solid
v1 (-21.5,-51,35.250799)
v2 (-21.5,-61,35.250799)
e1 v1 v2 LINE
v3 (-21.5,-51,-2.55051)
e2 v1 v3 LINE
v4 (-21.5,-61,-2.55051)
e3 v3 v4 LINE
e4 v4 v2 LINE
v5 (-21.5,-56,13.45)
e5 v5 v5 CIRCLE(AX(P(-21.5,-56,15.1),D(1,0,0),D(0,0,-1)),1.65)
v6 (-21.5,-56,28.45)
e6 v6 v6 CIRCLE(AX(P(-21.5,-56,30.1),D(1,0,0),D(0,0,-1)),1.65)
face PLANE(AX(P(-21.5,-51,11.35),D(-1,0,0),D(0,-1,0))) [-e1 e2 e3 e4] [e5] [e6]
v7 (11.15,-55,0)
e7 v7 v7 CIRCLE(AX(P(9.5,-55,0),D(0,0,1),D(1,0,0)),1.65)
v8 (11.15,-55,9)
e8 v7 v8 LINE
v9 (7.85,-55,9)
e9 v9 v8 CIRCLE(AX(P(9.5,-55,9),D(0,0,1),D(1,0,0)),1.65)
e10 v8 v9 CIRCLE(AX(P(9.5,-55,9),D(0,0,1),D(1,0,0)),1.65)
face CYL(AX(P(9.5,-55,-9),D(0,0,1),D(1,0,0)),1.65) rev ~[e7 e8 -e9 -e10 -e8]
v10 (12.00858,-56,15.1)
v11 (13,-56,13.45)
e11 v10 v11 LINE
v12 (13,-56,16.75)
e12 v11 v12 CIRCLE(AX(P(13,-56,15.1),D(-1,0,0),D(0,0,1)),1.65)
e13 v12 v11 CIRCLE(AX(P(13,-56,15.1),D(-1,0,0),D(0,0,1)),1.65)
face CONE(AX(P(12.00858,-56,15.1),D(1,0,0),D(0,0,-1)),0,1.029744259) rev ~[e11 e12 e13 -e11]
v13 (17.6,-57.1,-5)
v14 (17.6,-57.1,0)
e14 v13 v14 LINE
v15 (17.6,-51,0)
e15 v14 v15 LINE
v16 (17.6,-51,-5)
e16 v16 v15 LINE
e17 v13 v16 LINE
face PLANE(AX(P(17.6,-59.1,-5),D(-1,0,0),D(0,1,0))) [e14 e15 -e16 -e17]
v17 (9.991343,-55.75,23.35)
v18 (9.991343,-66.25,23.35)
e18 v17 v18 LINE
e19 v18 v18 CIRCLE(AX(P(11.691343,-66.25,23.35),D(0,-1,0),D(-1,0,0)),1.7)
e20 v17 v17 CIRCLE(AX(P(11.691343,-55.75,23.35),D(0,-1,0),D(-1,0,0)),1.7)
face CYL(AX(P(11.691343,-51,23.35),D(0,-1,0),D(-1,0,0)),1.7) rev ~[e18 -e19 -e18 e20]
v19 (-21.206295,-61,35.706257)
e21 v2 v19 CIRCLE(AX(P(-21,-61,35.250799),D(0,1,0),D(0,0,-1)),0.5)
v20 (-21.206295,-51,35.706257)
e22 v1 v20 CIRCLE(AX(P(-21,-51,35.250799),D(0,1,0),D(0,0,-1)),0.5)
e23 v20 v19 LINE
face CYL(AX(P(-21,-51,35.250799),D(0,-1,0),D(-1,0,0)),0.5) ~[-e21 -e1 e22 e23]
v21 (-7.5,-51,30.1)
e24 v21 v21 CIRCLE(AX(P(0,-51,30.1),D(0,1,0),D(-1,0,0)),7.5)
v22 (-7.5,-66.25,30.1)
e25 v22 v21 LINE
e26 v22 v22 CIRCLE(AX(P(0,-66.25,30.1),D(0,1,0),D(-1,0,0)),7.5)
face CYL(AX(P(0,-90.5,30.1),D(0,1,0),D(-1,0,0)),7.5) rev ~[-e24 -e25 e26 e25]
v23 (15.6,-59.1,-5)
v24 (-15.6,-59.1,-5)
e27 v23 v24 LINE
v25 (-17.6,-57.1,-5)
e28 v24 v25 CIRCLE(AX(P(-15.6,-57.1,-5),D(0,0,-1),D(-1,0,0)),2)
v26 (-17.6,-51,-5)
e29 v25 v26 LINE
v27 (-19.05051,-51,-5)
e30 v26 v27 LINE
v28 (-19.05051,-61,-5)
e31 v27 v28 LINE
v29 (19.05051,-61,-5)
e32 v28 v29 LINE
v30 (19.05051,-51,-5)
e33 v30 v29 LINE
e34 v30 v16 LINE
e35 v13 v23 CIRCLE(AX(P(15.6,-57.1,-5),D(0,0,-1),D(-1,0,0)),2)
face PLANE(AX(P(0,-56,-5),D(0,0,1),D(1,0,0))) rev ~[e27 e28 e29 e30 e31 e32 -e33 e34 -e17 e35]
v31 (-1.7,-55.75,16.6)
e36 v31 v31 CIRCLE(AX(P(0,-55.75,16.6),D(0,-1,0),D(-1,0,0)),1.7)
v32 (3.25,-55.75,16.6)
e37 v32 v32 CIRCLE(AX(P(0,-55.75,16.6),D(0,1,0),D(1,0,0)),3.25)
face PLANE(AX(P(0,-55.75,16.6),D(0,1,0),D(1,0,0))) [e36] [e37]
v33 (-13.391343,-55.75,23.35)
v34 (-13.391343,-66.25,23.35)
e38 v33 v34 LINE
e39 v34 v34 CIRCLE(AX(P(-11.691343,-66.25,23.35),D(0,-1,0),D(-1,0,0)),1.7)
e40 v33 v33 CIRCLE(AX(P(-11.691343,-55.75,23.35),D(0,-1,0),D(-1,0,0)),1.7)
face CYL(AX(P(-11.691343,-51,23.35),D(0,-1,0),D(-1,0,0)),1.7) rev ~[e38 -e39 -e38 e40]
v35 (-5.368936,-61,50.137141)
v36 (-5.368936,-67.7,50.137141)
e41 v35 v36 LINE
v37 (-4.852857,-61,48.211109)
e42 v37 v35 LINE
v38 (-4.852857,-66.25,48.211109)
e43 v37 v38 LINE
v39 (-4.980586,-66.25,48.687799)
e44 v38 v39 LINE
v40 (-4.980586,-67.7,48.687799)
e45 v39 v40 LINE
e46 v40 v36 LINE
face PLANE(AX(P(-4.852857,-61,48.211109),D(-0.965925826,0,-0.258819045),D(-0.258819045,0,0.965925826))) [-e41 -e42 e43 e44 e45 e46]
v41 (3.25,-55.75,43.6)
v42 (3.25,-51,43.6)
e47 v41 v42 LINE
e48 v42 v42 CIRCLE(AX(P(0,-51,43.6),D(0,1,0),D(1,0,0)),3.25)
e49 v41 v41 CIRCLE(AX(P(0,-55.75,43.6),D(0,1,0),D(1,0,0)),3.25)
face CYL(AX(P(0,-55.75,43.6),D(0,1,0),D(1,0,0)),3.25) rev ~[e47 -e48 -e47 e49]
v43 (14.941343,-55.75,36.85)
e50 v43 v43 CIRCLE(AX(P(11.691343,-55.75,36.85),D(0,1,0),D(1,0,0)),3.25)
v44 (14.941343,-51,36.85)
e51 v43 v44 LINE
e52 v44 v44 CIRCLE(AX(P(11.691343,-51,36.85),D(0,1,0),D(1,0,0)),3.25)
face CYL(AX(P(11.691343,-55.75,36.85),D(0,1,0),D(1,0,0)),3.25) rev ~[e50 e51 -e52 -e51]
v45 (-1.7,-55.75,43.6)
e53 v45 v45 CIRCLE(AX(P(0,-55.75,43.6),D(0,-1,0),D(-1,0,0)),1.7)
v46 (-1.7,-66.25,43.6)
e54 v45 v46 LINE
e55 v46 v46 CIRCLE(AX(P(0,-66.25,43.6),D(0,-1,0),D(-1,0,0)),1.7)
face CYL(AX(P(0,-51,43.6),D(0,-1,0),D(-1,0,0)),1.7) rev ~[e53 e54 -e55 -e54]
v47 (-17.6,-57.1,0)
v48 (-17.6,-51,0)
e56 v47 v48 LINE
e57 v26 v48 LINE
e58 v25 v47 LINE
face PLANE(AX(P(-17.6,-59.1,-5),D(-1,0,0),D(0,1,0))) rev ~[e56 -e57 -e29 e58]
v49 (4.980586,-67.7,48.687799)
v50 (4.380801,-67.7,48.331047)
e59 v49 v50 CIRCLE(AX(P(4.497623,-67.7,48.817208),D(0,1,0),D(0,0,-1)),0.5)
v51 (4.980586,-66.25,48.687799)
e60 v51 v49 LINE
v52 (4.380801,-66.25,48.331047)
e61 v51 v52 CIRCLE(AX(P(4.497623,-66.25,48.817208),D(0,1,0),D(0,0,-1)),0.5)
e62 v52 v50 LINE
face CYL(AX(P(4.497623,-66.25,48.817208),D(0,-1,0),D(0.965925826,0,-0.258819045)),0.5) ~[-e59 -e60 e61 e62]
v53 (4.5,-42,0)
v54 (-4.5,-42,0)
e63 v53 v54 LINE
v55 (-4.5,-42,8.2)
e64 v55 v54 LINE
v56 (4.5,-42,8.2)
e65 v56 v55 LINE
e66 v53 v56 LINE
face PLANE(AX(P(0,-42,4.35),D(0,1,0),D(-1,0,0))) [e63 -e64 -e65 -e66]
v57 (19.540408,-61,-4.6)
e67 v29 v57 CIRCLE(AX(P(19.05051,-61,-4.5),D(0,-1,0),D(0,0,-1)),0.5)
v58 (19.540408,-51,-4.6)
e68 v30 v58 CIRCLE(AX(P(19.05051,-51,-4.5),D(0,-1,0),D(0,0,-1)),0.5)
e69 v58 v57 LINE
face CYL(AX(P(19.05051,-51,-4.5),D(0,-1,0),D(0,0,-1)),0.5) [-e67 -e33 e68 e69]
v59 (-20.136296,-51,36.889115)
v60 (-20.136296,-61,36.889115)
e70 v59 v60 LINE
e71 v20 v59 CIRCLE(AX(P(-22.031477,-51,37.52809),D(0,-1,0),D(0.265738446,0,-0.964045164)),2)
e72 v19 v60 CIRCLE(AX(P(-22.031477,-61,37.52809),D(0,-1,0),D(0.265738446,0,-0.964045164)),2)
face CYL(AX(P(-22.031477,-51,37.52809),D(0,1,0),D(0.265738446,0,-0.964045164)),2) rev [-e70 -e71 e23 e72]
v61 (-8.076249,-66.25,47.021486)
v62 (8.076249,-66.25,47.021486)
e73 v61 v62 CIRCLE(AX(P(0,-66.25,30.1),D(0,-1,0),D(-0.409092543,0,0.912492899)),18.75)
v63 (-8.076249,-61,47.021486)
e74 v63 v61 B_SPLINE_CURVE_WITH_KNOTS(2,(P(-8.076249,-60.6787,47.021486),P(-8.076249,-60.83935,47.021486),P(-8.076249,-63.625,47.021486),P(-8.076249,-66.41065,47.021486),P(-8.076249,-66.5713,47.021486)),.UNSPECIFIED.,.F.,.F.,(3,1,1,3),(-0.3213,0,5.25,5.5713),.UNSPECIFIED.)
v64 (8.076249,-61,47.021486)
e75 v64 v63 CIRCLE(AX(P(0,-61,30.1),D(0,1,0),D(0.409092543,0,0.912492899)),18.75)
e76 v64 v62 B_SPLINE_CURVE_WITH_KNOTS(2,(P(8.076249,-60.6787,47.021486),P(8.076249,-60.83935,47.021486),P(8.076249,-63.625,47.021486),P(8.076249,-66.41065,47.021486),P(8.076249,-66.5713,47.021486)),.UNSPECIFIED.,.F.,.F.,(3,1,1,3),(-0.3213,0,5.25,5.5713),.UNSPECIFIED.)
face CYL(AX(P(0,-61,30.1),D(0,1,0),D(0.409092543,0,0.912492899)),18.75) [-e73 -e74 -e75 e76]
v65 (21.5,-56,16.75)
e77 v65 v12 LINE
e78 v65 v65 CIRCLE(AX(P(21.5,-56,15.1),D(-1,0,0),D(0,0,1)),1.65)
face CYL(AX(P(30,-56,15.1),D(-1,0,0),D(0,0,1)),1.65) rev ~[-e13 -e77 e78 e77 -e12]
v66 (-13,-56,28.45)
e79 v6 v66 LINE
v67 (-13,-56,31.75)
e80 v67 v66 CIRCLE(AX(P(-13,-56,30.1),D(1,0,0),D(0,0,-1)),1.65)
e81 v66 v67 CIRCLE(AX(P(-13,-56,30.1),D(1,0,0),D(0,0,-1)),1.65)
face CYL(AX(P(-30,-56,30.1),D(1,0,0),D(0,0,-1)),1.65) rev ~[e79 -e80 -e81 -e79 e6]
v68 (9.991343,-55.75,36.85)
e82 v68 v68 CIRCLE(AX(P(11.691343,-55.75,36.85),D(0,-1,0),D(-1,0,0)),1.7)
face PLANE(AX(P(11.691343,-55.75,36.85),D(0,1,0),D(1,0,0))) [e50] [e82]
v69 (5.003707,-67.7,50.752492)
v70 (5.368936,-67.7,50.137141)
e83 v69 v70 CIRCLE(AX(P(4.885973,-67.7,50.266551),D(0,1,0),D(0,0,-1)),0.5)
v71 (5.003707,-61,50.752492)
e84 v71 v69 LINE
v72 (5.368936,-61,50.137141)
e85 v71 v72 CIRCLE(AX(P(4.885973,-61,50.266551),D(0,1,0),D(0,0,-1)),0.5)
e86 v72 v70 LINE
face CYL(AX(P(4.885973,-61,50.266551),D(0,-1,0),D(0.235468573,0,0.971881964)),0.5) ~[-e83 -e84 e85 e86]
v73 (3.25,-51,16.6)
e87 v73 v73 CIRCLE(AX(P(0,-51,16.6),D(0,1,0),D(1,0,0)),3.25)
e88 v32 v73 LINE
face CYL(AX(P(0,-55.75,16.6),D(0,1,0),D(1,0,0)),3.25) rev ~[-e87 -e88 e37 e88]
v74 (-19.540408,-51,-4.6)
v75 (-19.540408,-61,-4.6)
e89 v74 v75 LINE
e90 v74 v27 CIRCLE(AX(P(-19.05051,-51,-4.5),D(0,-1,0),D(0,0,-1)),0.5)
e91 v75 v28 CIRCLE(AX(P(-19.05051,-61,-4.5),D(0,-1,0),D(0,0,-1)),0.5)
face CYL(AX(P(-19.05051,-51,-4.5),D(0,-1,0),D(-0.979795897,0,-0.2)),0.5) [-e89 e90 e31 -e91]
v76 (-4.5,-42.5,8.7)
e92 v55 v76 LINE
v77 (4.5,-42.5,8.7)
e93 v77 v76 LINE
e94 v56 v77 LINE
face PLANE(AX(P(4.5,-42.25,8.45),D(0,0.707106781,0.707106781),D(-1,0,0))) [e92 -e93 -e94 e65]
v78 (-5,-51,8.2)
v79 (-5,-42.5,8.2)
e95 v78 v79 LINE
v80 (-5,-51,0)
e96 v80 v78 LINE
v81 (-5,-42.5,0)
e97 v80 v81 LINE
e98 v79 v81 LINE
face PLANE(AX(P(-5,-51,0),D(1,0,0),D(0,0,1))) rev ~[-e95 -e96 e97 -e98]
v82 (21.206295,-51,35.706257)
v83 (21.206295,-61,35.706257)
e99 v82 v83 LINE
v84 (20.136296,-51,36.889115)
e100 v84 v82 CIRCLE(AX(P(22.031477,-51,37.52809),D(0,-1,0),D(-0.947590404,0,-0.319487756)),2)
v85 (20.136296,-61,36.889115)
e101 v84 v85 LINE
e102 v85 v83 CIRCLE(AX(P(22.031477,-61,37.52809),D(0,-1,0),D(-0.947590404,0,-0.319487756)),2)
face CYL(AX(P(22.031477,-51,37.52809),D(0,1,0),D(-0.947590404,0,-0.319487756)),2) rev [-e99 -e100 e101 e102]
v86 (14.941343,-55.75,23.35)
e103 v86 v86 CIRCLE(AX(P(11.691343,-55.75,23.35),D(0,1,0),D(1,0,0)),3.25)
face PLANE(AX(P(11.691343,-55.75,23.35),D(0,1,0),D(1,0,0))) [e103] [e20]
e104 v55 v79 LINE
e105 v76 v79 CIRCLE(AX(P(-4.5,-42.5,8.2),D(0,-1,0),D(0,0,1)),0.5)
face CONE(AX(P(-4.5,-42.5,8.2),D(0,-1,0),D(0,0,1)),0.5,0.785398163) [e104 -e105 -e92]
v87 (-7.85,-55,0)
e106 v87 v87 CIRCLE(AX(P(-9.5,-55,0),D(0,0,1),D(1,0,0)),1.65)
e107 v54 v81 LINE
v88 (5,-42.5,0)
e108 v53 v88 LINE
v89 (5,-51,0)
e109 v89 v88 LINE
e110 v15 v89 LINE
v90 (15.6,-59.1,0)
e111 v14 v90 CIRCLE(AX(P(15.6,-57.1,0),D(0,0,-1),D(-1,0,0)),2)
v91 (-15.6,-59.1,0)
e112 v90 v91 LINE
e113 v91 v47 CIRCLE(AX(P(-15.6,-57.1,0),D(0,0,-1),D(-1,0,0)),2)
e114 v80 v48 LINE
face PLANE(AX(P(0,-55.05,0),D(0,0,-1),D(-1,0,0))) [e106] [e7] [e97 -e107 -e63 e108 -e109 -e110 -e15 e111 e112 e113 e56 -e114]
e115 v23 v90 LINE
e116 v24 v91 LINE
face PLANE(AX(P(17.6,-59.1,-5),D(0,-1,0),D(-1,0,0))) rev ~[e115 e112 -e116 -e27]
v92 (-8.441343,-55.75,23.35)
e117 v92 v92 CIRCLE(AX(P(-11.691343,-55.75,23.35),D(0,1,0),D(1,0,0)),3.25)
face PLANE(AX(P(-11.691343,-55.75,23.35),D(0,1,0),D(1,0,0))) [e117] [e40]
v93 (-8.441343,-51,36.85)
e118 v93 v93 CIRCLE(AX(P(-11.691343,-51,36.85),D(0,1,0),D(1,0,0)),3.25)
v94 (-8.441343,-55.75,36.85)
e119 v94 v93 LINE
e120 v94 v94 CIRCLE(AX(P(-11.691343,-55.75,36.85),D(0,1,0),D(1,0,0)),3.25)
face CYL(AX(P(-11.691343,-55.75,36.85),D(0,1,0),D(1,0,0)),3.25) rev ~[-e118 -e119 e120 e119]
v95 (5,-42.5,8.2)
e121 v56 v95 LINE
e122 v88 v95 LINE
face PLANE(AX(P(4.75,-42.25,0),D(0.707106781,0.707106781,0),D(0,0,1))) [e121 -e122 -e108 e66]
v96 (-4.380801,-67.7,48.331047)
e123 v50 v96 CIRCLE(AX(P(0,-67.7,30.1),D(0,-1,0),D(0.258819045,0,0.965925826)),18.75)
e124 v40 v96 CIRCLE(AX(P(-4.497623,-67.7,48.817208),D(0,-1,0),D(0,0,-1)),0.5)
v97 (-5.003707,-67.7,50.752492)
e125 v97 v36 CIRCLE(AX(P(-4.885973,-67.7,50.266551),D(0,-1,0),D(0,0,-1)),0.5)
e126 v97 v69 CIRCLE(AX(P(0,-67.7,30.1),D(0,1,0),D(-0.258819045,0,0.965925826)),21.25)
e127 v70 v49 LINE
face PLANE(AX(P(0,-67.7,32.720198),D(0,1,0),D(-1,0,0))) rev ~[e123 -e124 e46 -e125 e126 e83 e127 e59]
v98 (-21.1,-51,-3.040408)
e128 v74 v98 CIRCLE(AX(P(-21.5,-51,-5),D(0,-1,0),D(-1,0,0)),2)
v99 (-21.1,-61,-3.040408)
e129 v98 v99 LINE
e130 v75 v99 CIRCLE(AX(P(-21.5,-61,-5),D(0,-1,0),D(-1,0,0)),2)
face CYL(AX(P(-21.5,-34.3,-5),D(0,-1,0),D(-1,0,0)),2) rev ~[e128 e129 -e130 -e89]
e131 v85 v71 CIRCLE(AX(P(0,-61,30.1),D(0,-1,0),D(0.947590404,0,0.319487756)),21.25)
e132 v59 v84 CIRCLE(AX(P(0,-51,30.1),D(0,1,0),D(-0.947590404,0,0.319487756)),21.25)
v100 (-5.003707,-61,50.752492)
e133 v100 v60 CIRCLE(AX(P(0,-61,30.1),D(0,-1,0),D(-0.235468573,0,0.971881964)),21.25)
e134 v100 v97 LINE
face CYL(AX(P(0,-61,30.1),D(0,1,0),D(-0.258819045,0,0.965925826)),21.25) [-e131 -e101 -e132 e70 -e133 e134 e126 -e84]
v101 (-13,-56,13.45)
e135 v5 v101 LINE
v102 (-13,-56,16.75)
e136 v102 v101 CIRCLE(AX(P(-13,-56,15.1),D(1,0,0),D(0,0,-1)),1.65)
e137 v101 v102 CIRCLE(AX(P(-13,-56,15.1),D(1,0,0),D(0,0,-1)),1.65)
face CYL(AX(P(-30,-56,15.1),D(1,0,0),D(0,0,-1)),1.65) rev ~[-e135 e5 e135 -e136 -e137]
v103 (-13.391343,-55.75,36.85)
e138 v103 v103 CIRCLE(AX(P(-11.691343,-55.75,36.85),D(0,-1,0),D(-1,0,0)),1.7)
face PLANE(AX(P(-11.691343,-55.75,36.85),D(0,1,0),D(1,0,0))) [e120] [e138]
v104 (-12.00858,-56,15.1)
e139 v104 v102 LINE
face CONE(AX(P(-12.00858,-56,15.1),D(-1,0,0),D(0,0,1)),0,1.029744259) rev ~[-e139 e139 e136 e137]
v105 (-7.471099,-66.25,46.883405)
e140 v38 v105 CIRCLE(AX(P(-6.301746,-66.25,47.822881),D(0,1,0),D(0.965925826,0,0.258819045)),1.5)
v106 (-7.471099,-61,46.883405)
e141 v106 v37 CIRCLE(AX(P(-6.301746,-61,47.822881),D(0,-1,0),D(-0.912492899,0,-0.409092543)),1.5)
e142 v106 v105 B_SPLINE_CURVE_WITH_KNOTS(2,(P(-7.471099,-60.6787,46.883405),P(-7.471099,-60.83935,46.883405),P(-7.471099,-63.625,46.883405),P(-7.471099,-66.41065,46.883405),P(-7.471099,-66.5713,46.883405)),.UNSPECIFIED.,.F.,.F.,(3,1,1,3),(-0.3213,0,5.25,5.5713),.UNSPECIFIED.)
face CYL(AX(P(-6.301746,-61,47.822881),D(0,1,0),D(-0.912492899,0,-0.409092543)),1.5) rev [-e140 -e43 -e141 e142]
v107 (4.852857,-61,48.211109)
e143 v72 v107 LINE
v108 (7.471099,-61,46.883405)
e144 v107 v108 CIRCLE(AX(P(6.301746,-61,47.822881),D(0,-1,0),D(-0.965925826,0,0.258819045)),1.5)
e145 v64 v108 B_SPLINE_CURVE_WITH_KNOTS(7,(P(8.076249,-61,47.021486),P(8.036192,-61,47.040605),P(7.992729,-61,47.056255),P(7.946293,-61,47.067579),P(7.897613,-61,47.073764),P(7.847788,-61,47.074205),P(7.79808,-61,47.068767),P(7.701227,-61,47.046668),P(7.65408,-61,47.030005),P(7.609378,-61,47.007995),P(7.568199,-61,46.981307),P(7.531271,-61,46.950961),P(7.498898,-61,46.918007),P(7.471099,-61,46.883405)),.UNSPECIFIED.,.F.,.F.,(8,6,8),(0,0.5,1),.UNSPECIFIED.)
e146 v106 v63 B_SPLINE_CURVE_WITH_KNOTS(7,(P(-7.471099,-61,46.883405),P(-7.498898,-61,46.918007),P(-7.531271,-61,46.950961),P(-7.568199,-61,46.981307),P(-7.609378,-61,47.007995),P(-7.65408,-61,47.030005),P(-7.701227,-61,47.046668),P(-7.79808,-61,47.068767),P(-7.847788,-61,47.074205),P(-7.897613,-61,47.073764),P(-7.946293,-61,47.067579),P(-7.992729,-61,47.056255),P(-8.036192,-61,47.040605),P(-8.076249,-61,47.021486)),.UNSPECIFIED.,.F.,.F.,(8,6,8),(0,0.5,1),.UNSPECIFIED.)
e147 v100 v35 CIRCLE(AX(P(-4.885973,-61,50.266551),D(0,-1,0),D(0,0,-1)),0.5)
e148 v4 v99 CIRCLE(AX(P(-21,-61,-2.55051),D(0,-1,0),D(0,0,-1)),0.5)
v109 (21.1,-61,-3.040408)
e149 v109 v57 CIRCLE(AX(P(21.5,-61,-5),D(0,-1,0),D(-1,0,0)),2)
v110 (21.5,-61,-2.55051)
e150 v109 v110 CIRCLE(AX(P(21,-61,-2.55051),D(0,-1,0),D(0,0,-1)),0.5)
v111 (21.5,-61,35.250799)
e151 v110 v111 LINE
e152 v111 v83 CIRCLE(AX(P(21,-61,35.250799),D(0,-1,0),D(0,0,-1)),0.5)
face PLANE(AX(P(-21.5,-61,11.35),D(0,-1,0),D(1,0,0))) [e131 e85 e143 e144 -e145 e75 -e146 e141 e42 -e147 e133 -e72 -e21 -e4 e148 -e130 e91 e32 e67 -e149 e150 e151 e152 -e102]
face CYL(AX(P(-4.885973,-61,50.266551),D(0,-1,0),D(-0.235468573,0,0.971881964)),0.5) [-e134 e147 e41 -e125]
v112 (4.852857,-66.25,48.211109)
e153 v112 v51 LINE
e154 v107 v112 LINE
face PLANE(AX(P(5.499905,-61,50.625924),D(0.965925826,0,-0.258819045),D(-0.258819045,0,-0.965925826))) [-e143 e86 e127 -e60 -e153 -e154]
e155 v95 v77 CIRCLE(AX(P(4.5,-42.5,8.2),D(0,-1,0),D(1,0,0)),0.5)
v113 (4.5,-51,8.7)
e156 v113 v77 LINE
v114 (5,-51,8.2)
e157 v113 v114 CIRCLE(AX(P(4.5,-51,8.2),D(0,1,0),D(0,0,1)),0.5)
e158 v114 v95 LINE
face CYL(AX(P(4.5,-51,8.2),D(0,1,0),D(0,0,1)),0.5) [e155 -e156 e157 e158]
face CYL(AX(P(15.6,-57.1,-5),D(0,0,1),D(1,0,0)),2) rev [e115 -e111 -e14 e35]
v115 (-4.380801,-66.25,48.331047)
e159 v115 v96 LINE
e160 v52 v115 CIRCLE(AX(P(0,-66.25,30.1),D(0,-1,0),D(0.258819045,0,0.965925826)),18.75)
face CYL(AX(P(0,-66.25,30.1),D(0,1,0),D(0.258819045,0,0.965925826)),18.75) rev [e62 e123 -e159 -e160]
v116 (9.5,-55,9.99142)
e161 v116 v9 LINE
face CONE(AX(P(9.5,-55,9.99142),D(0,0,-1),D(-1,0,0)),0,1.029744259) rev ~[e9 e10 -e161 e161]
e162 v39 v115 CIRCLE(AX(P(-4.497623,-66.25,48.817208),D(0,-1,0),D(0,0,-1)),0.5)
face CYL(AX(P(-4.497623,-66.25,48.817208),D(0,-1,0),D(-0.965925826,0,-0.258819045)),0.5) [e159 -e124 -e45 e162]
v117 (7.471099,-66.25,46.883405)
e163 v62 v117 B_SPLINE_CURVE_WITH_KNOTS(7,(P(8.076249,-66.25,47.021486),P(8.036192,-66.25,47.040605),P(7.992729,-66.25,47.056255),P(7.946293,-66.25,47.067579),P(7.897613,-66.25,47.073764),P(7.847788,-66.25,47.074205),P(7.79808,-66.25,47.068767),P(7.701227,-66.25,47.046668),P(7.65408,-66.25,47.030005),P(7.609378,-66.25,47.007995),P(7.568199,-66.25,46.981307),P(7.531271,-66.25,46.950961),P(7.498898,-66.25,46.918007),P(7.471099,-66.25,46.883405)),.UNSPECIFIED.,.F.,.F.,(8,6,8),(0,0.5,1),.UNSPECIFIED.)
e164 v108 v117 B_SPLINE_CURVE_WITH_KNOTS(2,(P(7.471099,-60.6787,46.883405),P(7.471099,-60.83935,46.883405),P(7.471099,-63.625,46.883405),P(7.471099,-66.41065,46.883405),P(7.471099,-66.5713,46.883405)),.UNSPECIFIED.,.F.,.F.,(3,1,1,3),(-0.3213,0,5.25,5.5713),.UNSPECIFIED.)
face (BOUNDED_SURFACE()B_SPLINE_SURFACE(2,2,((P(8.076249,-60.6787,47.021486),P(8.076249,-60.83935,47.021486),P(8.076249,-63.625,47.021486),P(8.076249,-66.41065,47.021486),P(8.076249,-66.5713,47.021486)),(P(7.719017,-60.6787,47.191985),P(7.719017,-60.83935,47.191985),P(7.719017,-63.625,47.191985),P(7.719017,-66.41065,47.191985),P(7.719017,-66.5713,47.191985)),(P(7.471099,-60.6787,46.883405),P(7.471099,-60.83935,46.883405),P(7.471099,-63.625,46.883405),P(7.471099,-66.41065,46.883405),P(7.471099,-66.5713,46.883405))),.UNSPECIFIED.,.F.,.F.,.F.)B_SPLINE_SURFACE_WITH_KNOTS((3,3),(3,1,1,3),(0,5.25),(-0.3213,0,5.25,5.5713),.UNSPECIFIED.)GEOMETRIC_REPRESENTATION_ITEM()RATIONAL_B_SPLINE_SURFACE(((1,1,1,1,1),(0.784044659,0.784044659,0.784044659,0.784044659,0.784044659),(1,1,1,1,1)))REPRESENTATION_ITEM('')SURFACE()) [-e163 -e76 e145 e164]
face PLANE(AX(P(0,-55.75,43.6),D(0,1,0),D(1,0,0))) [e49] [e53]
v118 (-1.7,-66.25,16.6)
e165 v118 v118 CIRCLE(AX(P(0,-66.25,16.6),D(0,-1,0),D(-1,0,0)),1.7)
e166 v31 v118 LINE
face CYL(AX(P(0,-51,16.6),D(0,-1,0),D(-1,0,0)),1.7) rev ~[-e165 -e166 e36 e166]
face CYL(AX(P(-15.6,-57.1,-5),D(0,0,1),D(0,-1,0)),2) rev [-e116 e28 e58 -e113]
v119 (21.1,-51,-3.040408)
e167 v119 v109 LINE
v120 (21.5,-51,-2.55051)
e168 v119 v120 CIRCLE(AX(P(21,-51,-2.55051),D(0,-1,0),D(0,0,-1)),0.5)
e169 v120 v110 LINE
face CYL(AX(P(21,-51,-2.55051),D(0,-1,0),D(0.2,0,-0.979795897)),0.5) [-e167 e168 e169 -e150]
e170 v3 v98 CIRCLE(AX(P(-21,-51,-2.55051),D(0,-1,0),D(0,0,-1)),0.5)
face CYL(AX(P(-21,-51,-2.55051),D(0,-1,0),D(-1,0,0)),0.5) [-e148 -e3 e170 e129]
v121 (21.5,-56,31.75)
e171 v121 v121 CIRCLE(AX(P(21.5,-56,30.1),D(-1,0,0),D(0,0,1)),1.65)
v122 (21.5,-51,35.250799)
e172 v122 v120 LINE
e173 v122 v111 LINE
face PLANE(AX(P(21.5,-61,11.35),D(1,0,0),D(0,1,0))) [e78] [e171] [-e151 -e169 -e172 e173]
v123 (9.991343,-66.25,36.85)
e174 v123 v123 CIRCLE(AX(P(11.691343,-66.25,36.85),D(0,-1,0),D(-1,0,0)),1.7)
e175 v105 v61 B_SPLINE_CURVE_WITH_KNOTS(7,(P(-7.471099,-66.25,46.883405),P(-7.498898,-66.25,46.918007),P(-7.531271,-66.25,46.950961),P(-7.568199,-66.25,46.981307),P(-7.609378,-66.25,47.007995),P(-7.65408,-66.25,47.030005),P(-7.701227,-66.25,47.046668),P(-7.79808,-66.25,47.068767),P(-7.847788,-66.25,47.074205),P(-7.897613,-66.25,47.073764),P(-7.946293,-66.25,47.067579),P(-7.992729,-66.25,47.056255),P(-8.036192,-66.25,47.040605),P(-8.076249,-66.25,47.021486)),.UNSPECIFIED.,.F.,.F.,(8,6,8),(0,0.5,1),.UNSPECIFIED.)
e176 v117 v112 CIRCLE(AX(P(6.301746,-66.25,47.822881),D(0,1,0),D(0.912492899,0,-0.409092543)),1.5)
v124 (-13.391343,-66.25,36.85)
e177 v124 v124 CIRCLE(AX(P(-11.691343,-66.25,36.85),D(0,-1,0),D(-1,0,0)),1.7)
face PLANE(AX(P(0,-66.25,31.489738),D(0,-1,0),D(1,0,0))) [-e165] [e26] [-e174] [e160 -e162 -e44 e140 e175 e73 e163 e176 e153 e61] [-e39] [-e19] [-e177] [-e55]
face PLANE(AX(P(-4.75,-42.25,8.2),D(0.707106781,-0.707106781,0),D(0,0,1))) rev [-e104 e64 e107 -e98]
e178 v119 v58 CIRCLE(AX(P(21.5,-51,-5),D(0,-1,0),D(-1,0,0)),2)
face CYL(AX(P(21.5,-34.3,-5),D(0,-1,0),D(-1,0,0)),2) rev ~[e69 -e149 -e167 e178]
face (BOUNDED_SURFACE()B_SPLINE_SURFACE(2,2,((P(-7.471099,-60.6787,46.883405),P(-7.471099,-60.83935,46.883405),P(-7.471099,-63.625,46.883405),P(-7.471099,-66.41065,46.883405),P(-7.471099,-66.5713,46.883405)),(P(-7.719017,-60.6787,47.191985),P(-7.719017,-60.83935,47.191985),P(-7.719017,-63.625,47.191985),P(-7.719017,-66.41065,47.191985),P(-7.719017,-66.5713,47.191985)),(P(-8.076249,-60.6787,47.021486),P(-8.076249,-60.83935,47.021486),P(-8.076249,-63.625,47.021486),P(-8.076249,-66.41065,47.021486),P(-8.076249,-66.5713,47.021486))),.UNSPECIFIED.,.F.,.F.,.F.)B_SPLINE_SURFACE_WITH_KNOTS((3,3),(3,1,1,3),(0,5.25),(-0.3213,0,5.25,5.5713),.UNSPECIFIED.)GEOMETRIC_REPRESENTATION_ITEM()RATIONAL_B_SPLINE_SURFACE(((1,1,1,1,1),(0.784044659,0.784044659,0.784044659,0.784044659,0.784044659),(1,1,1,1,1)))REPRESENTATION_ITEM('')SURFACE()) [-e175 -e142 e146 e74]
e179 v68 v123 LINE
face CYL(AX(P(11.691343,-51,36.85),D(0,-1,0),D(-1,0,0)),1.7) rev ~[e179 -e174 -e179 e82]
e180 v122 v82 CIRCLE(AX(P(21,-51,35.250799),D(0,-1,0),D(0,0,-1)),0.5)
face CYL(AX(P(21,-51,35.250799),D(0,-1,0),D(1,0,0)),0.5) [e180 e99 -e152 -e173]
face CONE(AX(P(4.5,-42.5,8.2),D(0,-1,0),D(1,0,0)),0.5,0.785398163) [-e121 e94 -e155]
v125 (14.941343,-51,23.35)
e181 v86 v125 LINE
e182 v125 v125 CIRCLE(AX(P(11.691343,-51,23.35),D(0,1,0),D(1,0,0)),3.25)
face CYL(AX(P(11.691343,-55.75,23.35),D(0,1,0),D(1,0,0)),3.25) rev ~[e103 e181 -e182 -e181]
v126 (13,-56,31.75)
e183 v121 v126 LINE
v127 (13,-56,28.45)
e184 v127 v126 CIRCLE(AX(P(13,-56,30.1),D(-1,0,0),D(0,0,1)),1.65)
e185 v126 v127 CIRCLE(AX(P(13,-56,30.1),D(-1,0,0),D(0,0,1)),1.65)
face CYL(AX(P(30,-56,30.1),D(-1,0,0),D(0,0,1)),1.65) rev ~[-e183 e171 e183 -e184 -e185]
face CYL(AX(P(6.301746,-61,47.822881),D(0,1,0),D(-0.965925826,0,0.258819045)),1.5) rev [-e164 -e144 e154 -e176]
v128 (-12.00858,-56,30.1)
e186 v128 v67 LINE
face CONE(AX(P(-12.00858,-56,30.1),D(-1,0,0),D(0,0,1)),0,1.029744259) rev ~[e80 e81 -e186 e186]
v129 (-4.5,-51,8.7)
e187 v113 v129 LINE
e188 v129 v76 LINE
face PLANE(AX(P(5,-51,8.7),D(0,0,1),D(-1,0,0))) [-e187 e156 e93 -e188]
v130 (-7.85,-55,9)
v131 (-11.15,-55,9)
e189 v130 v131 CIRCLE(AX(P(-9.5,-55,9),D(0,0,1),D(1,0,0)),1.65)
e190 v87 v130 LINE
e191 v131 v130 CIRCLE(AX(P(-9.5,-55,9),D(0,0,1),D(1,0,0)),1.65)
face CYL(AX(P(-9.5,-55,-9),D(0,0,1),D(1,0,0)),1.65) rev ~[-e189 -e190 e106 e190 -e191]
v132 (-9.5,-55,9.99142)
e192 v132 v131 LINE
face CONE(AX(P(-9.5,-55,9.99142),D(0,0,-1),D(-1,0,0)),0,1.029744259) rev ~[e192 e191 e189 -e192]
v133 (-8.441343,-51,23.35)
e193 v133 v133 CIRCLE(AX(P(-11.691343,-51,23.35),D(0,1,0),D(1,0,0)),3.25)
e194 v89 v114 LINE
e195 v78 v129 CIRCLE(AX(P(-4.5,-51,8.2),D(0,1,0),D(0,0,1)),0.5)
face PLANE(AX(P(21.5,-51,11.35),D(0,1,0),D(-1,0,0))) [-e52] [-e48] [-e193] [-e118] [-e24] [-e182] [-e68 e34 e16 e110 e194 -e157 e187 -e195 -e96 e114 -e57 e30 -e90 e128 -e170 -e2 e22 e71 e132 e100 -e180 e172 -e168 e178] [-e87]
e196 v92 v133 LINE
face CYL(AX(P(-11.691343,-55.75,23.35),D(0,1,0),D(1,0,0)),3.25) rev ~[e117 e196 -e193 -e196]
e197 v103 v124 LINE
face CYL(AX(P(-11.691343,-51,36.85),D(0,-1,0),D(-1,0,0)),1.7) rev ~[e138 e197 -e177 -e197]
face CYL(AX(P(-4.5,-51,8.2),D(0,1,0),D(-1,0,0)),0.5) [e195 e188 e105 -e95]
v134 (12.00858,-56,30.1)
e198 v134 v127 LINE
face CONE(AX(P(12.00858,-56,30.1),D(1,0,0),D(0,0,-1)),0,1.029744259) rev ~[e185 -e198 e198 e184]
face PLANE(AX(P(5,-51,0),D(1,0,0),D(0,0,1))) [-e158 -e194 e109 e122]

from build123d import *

# Parameters (mm, degrees)
EXTRUDE_1_DEPTH              = 10
SKETCH_2_W                   = 43
SKETCH_2_H                   = 10
EXTRUDE_2_DEPTH              = 24.24999999999997
EXTRUDE_3_DEPTH              = 6.6999999999999975
CUT_EXTRUDE_START            = -1.449999999999993
CUT_EXTRUDE_1_DEPTH          = 1.449999999999993
EXTRUDE_4_DEPTH              = 16.349999999999994
SKETCH_6_W                   = 35.2
SKETCH_6_H                   = 8.099999999999994
CUT_EXTRUDE_2_DEPTH          = 5
SKETCH_7_W                   = 9.999999999999998
SKETCH_7_H                   = 8.7
EXTRUDE_5_DEPTH              = 8.999999999999995
HOLE_WIZARD_3_3_3_3_1_D      = 3.3
HOLE_WIZARD_3_3_3_3_1_DEPTH  = 8.5
HOLE_WIZARD_3_3_3_3_1_TIP    = 0.9914200213954745
HOLE_WIZARD_3_3_3_3_2_D      = 3.3
HOLE_WIZARD_3_3_3_3_2_DEPTH  = 8.5
HOLE_WIZARD_3_3_3_3_2_TIP    = 0.9914200213954745
HOLE_WIZARD_3_3_3_3_3_D      = 3.3
HOLE_WIZARD_3_3_3_3_3_DEPTH  = 9
HOLE_WIZARD_3_3_3_3_3_TIP    = 0.9914200213954745
HOLE_WIZARD_15_0_15_1_D      = 15
HOLE_WIZARD_15_0_15_1_DEPTH  = 24.25
HOLE_WIZARD_M3_1_D           = 3.4
HOLE_WIZARD_M3_1_DEPTH       = 16.7
HOLE_WIZARD_M3_1_CBORE_D     = 6.5
HOLE_WIZARD_M3_1_CBORE_DEPTH = 4.75
HOLE_WIZARD_4_0_4_1_D        = 4
HOLE_WIZARD_4_0_4_1_DEPTH    = 16.7
FILLET_1_R                   = 0.5
CHAMFER_1_SIZE               = 0.4999999999999948
FILLET_2_R                   = 2


with BuildPart() as part:
    # 草图1 → 凸台-拉伸1 (new body)
    with BuildSketch(Plane(origin=(0, -51, 0), x_dir=(1, 0, 0), z_dir=(0, 1, 0))):
        with BuildLine():
            Line((21.5, -35.60000000000002), (-21.5, -35.59999999999997))
            ThreePointArc((-21.5, -35.59999999999997), (-20.657569635687853, -36.07468782040316), (-20.1362960848869, -36.8891148157745))
            ThreePointArc((-20.1362960848869, -36.8891148157745), (-3.42e-15, -51.35000000000001), (20.1362960848869, -36.8891148157745))
            ThreePointArc((20.1362960848869, -36.8891148157745), (20.65756963568787, -36.07468782040319), (21.5, -35.60000000000002))
        make_face()
    extrude(amount=-EXTRUDE_1_DEPTH)

    # 草图2 → 凸台-拉伸2 (add)
    with BuildSketch(Plane(origin=(-4.021e-14, 0, 35.599999999999994), x_dir=(-1, 0, -1.13e-15), z_dir=(1.13e-15, 0, -1))):
        with Locations((-4.086e-14, -56.00000000000001)):
            Rectangle(SKETCH_2_W, SKETCH_2_H)
    extrude(amount=EXTRUDE_2_DEPTH)

    # 草图3 → 凸台-拉伸3 (add)
    with BuildSketch(Plane.XZ.offset(61)):
        with BuildLine():
            Line((-4.85285709567227, 48.211109242919996), (-5.499904708428581, 50.625923808642696))
            ThreePointArc((-5.499904708428581, 50.625923808642696), (1.3e-15, 51.349999999999994), (5.499904708428581, 50.625923808642696))
            Line((5.499904708428581, 50.625923808642696), (4.852857095672274, 48.21110924292003))
            ThreePointArc((4.852857095672274, 48.21110924292003), (5.799211712715089, 46.409565616324066), (7.6704851839498795, 47.209241860550264))
            ThreePointArc((7.6704851839498795, 47.209241860550264), (-3.02e-15, 11.349999999999994), (-7.67048518394987, 47.209241860550264))
            ThreePointArc((-7.67048518394987, 47.209241860550264), (-5.799211712715104, 46.40956561632406), (-4.85285709567227, 48.211109242919996))
        make_face()
    extrude(amount=EXTRUDE_3_DEPTH)

    # 草图4 → 切除-拉伸1 (cut)
    with BuildSketch(Plane.XZ.offset(67.7).offset(CUT_EXTRUDE_START)):
        with BuildLine():
            ThreePointArc((7.6704851839498795, 47.209241860550264), (5.799211712715057, 46.409565616324066), (4.85285709567228, 48.211109242920095))
            ThreePointArc((4.85285709567228, 48.211109242920095), (-7.18e-15, 48.850000000000065), (-4.85285709567227, 48.211109242919996))
            ThreePointArc((-4.85285709567227, 48.211109242919996), (-5.799211712715106, 46.409565616324066), (-7.67048518394987, 47.209241860550264))
            ThreePointArc((-7.67048518394987, 47.209241860550264), (-3.44e-15, 11.349999999999998), (7.6704851839498795, 47.209241860550264))
        make_face()
    extrude(amount=CUT_EXTRUDE_1_DEPTH, mode=Mode.SUBTRACT)

    # 草图5 → 凸台-拉伸4 (add)
    with BuildSketch(Plane(origin=(-1.282e-14, 0, 11.35000000000002), x_dir=(-1, 0, -1.13e-15), z_dir=(1.13e-15, 0, -1))):
        Polygon((21.499999999999986, -51), (21.499999999999986, -61), (-21.500000000000007, -61), (-21.50000000000001, -51), align=None)
    extrude(amount=EXTRUDE_4_DEPTH)

    # 草图6 → 切除-拉伸2 (cut)
    with BuildSketch(Plane(origin=(5.65e-15, 0, -4.999999999999973), x_dir=(-1, 0, -1.13e-15), z_dir=(1.13e-15, 0, -1))):
        with Locations((7.11e-15, -55.050000000000004)):
            Rectangle(SKETCH_6_W, SKETCH_6_H)
    extrude(amount=-CUT_EXTRUDE_2_DEPTH, mode=Mode.SUBTRACT)

    # 草图7 → 凸台-拉伸5 (add)
    with BuildSketch(Plane(origin=(0, -51, 0), x_dir=(-1, 0, 0), z_dir=(0, 1, 0))):
        with Locations((-8.9e-16, 4.35)):
            Rectangle(SKETCH_7_W, SKETCH_7_H)
    extrude(amount=EXTRUDE_5_DEPTH)

    # Ø3.3 (3.3) 直径孔1
    with Locations(Plane(origin=(21.50000000000004, 0, 2.429e-14), x_dir=(1.13e-15, 0, -1), z_dir=(1, 0, 1.13e-15))):
        with Locations((-15.1, -56), (-30.1, -56)):
            Hole(HOLE_WIZARD_3_3_3_3_1_D / 2, depth=HOLE_WIZARD_3_3_3_3_1_DEPTH)
            with Locations((0, 0, -(HOLE_WIZARD_3_3_3_3_1_DEPTH + HOLE_WIZARD_3_3_3_3_1_TIP / 2))):  # 118° drill point
                Cone(0, HOLE_WIZARD_3_3_3_3_1_D / 2, HOLE_WIZARD_3_3_3_3_1_TIP, mode=Mode.SUBTRACT)

    # Ø3.3 (3.3) 直径孔2
    with Locations(Plane.ZY.offset(21.499999999999957)):
        with Locations((15.1, -56), (30.1, -56)):
            Hole(HOLE_WIZARD_3_3_3_3_2_D / 2, depth=HOLE_WIZARD_3_3_3_3_2_DEPTH)
            with Locations((0, 0, -(HOLE_WIZARD_3_3_3_3_2_DEPTH + HOLE_WIZARD_3_3_3_3_2_TIP / 2))):  # 118° drill point
                Cone(0, HOLE_WIZARD_3_3_3_3_2_D / 2, HOLE_WIZARD_3_3_3_3_2_TIP, mode=Mode.SUBTRACT)

    # Ø3.3 (3.3) 直径孔3
    with Locations(Plane(origin=(0, 0, 0), x_dir=(-1, 0, -1.13e-15), z_dir=(1.13e-15, 0, -1))):
        with Locations((-9.5, -55), (9.5, -55)):
            Hole(HOLE_WIZARD_3_3_3_3_3_D / 2, depth=HOLE_WIZARD_3_3_3_3_3_DEPTH)
            with Locations((0, 0, -(HOLE_WIZARD_3_3_3_3_3_DEPTH + HOLE_WIZARD_3_3_3_3_3_TIP / 2))):  # 118° drill point
                Cone(0, HOLE_WIZARD_3_3_3_3_3_D / 2, HOLE_WIZARD_3_3_3_3_3_TIP, mode=Mode.SUBTRACT)

    # Ø15.0 (15) 直径孔1
    with Locations(Plane.XZ.offset(66.25)):
        with Locations((0, 30.1)):
            Hole(HOLE_WIZARD_15_0_15_1_D / 2, depth=HOLE_WIZARD_15_0_15_1_DEPTH)

    # M3 六角头机械螺钉的柱形沉头孔1
    with Locations(Plane(origin=(0, -51, 0), x_dir=(1, 0, 0), z_dir=(0, 1, 0))):
        with Locations((0, -43.6), (-11.691342951, -36.85), (-11.691342951, -23.35), (0, -16.6), (11.691342951, -23.35), (11.691342951, -36.85)):
            CounterBoreHole(HOLE_WIZARD_M3_1_D / 2, HOLE_WIZARD_M3_1_CBORE_D / 2, HOLE_WIZARD_M3_1_CBORE_DEPTH, depth=HOLE_WIZARD_M3_1_DEPTH)

    # Ø4.0 (4) 直径孔1
    with Locations(Plane(origin=(0, -51, 0), x_dir=(1, 0, 0), z_dir=(0, 1, 0))):
        with Locations((21.5, 5), (-21.5, 5)):
            Hole(HOLE_WIZARD_4_0_4_1_D / 2, depth=HOLE_WIZARD_4_0_4_1_DEPTH)

    # 圆角1
    fillet_1_edges = [part.edges().sort_by_distance(p)[0] for p in [
        (-21.499999999999954, -56, -3),
        (-19.5, -56, -4.9999999999999964),
        (19.5, -56, -4.999999999999999),
        (21.500000000000043, -56, -3),
        (-4.852857095672272, -66.97500000000001, 48.211109242919996),
        (4.852857095672273, -66.97500000000001, 48.21110924292003),
        (5.499904708428581, -64.35, 50.625923808642696),
        (-5.499904708428581, -64.35, 50.625923808642696),
        (7.6704851839498795, -63.62500000000001, 47.209241860550264),
        (-7.670485183949873, -63.62500000000001, 47.209241860550264),
        (-21.5, -56, 35.59999999999997),
        (21.5, -56, 35.60000000000002),
        (-4.999999999999998, -46.5, 8.7),
        (5, -46.5, 8.7),
    ]]
    fillet(fillet_1_edges, radius=FILLET_1_R)

    # 倒角1
    chamfer_1_edges = [part.edges().sort_by_distance(p)[0] for p in [
        (5, -42.00000000000001, 4.1),
        (8.9e-16, -42.00000000000001, 8.7),
        (-4.853553390593272, -42.00000000000001, 8.553553390593272),
        (4.853553390593274, -42.00000000000001, 8.553553390593272),
        (-4.999999999999998, -42.00000000000001, 4.1),
    ]]
    chamfer(chamfer_1_edges, length=CHAMFER_1_SIZE)

    # 圆角2
    fillet_2_edges = [part.edges().sort_by_distance(p)[0] for p in [
        (-17.600000000000005, -59.1, -2.499999999999993),
        (17.599999999999998, -59.1, -2.499999999999954),
    ]]
    fillet(fillet_2_edges, radius=FILLET_2_R)


solid = part.part
